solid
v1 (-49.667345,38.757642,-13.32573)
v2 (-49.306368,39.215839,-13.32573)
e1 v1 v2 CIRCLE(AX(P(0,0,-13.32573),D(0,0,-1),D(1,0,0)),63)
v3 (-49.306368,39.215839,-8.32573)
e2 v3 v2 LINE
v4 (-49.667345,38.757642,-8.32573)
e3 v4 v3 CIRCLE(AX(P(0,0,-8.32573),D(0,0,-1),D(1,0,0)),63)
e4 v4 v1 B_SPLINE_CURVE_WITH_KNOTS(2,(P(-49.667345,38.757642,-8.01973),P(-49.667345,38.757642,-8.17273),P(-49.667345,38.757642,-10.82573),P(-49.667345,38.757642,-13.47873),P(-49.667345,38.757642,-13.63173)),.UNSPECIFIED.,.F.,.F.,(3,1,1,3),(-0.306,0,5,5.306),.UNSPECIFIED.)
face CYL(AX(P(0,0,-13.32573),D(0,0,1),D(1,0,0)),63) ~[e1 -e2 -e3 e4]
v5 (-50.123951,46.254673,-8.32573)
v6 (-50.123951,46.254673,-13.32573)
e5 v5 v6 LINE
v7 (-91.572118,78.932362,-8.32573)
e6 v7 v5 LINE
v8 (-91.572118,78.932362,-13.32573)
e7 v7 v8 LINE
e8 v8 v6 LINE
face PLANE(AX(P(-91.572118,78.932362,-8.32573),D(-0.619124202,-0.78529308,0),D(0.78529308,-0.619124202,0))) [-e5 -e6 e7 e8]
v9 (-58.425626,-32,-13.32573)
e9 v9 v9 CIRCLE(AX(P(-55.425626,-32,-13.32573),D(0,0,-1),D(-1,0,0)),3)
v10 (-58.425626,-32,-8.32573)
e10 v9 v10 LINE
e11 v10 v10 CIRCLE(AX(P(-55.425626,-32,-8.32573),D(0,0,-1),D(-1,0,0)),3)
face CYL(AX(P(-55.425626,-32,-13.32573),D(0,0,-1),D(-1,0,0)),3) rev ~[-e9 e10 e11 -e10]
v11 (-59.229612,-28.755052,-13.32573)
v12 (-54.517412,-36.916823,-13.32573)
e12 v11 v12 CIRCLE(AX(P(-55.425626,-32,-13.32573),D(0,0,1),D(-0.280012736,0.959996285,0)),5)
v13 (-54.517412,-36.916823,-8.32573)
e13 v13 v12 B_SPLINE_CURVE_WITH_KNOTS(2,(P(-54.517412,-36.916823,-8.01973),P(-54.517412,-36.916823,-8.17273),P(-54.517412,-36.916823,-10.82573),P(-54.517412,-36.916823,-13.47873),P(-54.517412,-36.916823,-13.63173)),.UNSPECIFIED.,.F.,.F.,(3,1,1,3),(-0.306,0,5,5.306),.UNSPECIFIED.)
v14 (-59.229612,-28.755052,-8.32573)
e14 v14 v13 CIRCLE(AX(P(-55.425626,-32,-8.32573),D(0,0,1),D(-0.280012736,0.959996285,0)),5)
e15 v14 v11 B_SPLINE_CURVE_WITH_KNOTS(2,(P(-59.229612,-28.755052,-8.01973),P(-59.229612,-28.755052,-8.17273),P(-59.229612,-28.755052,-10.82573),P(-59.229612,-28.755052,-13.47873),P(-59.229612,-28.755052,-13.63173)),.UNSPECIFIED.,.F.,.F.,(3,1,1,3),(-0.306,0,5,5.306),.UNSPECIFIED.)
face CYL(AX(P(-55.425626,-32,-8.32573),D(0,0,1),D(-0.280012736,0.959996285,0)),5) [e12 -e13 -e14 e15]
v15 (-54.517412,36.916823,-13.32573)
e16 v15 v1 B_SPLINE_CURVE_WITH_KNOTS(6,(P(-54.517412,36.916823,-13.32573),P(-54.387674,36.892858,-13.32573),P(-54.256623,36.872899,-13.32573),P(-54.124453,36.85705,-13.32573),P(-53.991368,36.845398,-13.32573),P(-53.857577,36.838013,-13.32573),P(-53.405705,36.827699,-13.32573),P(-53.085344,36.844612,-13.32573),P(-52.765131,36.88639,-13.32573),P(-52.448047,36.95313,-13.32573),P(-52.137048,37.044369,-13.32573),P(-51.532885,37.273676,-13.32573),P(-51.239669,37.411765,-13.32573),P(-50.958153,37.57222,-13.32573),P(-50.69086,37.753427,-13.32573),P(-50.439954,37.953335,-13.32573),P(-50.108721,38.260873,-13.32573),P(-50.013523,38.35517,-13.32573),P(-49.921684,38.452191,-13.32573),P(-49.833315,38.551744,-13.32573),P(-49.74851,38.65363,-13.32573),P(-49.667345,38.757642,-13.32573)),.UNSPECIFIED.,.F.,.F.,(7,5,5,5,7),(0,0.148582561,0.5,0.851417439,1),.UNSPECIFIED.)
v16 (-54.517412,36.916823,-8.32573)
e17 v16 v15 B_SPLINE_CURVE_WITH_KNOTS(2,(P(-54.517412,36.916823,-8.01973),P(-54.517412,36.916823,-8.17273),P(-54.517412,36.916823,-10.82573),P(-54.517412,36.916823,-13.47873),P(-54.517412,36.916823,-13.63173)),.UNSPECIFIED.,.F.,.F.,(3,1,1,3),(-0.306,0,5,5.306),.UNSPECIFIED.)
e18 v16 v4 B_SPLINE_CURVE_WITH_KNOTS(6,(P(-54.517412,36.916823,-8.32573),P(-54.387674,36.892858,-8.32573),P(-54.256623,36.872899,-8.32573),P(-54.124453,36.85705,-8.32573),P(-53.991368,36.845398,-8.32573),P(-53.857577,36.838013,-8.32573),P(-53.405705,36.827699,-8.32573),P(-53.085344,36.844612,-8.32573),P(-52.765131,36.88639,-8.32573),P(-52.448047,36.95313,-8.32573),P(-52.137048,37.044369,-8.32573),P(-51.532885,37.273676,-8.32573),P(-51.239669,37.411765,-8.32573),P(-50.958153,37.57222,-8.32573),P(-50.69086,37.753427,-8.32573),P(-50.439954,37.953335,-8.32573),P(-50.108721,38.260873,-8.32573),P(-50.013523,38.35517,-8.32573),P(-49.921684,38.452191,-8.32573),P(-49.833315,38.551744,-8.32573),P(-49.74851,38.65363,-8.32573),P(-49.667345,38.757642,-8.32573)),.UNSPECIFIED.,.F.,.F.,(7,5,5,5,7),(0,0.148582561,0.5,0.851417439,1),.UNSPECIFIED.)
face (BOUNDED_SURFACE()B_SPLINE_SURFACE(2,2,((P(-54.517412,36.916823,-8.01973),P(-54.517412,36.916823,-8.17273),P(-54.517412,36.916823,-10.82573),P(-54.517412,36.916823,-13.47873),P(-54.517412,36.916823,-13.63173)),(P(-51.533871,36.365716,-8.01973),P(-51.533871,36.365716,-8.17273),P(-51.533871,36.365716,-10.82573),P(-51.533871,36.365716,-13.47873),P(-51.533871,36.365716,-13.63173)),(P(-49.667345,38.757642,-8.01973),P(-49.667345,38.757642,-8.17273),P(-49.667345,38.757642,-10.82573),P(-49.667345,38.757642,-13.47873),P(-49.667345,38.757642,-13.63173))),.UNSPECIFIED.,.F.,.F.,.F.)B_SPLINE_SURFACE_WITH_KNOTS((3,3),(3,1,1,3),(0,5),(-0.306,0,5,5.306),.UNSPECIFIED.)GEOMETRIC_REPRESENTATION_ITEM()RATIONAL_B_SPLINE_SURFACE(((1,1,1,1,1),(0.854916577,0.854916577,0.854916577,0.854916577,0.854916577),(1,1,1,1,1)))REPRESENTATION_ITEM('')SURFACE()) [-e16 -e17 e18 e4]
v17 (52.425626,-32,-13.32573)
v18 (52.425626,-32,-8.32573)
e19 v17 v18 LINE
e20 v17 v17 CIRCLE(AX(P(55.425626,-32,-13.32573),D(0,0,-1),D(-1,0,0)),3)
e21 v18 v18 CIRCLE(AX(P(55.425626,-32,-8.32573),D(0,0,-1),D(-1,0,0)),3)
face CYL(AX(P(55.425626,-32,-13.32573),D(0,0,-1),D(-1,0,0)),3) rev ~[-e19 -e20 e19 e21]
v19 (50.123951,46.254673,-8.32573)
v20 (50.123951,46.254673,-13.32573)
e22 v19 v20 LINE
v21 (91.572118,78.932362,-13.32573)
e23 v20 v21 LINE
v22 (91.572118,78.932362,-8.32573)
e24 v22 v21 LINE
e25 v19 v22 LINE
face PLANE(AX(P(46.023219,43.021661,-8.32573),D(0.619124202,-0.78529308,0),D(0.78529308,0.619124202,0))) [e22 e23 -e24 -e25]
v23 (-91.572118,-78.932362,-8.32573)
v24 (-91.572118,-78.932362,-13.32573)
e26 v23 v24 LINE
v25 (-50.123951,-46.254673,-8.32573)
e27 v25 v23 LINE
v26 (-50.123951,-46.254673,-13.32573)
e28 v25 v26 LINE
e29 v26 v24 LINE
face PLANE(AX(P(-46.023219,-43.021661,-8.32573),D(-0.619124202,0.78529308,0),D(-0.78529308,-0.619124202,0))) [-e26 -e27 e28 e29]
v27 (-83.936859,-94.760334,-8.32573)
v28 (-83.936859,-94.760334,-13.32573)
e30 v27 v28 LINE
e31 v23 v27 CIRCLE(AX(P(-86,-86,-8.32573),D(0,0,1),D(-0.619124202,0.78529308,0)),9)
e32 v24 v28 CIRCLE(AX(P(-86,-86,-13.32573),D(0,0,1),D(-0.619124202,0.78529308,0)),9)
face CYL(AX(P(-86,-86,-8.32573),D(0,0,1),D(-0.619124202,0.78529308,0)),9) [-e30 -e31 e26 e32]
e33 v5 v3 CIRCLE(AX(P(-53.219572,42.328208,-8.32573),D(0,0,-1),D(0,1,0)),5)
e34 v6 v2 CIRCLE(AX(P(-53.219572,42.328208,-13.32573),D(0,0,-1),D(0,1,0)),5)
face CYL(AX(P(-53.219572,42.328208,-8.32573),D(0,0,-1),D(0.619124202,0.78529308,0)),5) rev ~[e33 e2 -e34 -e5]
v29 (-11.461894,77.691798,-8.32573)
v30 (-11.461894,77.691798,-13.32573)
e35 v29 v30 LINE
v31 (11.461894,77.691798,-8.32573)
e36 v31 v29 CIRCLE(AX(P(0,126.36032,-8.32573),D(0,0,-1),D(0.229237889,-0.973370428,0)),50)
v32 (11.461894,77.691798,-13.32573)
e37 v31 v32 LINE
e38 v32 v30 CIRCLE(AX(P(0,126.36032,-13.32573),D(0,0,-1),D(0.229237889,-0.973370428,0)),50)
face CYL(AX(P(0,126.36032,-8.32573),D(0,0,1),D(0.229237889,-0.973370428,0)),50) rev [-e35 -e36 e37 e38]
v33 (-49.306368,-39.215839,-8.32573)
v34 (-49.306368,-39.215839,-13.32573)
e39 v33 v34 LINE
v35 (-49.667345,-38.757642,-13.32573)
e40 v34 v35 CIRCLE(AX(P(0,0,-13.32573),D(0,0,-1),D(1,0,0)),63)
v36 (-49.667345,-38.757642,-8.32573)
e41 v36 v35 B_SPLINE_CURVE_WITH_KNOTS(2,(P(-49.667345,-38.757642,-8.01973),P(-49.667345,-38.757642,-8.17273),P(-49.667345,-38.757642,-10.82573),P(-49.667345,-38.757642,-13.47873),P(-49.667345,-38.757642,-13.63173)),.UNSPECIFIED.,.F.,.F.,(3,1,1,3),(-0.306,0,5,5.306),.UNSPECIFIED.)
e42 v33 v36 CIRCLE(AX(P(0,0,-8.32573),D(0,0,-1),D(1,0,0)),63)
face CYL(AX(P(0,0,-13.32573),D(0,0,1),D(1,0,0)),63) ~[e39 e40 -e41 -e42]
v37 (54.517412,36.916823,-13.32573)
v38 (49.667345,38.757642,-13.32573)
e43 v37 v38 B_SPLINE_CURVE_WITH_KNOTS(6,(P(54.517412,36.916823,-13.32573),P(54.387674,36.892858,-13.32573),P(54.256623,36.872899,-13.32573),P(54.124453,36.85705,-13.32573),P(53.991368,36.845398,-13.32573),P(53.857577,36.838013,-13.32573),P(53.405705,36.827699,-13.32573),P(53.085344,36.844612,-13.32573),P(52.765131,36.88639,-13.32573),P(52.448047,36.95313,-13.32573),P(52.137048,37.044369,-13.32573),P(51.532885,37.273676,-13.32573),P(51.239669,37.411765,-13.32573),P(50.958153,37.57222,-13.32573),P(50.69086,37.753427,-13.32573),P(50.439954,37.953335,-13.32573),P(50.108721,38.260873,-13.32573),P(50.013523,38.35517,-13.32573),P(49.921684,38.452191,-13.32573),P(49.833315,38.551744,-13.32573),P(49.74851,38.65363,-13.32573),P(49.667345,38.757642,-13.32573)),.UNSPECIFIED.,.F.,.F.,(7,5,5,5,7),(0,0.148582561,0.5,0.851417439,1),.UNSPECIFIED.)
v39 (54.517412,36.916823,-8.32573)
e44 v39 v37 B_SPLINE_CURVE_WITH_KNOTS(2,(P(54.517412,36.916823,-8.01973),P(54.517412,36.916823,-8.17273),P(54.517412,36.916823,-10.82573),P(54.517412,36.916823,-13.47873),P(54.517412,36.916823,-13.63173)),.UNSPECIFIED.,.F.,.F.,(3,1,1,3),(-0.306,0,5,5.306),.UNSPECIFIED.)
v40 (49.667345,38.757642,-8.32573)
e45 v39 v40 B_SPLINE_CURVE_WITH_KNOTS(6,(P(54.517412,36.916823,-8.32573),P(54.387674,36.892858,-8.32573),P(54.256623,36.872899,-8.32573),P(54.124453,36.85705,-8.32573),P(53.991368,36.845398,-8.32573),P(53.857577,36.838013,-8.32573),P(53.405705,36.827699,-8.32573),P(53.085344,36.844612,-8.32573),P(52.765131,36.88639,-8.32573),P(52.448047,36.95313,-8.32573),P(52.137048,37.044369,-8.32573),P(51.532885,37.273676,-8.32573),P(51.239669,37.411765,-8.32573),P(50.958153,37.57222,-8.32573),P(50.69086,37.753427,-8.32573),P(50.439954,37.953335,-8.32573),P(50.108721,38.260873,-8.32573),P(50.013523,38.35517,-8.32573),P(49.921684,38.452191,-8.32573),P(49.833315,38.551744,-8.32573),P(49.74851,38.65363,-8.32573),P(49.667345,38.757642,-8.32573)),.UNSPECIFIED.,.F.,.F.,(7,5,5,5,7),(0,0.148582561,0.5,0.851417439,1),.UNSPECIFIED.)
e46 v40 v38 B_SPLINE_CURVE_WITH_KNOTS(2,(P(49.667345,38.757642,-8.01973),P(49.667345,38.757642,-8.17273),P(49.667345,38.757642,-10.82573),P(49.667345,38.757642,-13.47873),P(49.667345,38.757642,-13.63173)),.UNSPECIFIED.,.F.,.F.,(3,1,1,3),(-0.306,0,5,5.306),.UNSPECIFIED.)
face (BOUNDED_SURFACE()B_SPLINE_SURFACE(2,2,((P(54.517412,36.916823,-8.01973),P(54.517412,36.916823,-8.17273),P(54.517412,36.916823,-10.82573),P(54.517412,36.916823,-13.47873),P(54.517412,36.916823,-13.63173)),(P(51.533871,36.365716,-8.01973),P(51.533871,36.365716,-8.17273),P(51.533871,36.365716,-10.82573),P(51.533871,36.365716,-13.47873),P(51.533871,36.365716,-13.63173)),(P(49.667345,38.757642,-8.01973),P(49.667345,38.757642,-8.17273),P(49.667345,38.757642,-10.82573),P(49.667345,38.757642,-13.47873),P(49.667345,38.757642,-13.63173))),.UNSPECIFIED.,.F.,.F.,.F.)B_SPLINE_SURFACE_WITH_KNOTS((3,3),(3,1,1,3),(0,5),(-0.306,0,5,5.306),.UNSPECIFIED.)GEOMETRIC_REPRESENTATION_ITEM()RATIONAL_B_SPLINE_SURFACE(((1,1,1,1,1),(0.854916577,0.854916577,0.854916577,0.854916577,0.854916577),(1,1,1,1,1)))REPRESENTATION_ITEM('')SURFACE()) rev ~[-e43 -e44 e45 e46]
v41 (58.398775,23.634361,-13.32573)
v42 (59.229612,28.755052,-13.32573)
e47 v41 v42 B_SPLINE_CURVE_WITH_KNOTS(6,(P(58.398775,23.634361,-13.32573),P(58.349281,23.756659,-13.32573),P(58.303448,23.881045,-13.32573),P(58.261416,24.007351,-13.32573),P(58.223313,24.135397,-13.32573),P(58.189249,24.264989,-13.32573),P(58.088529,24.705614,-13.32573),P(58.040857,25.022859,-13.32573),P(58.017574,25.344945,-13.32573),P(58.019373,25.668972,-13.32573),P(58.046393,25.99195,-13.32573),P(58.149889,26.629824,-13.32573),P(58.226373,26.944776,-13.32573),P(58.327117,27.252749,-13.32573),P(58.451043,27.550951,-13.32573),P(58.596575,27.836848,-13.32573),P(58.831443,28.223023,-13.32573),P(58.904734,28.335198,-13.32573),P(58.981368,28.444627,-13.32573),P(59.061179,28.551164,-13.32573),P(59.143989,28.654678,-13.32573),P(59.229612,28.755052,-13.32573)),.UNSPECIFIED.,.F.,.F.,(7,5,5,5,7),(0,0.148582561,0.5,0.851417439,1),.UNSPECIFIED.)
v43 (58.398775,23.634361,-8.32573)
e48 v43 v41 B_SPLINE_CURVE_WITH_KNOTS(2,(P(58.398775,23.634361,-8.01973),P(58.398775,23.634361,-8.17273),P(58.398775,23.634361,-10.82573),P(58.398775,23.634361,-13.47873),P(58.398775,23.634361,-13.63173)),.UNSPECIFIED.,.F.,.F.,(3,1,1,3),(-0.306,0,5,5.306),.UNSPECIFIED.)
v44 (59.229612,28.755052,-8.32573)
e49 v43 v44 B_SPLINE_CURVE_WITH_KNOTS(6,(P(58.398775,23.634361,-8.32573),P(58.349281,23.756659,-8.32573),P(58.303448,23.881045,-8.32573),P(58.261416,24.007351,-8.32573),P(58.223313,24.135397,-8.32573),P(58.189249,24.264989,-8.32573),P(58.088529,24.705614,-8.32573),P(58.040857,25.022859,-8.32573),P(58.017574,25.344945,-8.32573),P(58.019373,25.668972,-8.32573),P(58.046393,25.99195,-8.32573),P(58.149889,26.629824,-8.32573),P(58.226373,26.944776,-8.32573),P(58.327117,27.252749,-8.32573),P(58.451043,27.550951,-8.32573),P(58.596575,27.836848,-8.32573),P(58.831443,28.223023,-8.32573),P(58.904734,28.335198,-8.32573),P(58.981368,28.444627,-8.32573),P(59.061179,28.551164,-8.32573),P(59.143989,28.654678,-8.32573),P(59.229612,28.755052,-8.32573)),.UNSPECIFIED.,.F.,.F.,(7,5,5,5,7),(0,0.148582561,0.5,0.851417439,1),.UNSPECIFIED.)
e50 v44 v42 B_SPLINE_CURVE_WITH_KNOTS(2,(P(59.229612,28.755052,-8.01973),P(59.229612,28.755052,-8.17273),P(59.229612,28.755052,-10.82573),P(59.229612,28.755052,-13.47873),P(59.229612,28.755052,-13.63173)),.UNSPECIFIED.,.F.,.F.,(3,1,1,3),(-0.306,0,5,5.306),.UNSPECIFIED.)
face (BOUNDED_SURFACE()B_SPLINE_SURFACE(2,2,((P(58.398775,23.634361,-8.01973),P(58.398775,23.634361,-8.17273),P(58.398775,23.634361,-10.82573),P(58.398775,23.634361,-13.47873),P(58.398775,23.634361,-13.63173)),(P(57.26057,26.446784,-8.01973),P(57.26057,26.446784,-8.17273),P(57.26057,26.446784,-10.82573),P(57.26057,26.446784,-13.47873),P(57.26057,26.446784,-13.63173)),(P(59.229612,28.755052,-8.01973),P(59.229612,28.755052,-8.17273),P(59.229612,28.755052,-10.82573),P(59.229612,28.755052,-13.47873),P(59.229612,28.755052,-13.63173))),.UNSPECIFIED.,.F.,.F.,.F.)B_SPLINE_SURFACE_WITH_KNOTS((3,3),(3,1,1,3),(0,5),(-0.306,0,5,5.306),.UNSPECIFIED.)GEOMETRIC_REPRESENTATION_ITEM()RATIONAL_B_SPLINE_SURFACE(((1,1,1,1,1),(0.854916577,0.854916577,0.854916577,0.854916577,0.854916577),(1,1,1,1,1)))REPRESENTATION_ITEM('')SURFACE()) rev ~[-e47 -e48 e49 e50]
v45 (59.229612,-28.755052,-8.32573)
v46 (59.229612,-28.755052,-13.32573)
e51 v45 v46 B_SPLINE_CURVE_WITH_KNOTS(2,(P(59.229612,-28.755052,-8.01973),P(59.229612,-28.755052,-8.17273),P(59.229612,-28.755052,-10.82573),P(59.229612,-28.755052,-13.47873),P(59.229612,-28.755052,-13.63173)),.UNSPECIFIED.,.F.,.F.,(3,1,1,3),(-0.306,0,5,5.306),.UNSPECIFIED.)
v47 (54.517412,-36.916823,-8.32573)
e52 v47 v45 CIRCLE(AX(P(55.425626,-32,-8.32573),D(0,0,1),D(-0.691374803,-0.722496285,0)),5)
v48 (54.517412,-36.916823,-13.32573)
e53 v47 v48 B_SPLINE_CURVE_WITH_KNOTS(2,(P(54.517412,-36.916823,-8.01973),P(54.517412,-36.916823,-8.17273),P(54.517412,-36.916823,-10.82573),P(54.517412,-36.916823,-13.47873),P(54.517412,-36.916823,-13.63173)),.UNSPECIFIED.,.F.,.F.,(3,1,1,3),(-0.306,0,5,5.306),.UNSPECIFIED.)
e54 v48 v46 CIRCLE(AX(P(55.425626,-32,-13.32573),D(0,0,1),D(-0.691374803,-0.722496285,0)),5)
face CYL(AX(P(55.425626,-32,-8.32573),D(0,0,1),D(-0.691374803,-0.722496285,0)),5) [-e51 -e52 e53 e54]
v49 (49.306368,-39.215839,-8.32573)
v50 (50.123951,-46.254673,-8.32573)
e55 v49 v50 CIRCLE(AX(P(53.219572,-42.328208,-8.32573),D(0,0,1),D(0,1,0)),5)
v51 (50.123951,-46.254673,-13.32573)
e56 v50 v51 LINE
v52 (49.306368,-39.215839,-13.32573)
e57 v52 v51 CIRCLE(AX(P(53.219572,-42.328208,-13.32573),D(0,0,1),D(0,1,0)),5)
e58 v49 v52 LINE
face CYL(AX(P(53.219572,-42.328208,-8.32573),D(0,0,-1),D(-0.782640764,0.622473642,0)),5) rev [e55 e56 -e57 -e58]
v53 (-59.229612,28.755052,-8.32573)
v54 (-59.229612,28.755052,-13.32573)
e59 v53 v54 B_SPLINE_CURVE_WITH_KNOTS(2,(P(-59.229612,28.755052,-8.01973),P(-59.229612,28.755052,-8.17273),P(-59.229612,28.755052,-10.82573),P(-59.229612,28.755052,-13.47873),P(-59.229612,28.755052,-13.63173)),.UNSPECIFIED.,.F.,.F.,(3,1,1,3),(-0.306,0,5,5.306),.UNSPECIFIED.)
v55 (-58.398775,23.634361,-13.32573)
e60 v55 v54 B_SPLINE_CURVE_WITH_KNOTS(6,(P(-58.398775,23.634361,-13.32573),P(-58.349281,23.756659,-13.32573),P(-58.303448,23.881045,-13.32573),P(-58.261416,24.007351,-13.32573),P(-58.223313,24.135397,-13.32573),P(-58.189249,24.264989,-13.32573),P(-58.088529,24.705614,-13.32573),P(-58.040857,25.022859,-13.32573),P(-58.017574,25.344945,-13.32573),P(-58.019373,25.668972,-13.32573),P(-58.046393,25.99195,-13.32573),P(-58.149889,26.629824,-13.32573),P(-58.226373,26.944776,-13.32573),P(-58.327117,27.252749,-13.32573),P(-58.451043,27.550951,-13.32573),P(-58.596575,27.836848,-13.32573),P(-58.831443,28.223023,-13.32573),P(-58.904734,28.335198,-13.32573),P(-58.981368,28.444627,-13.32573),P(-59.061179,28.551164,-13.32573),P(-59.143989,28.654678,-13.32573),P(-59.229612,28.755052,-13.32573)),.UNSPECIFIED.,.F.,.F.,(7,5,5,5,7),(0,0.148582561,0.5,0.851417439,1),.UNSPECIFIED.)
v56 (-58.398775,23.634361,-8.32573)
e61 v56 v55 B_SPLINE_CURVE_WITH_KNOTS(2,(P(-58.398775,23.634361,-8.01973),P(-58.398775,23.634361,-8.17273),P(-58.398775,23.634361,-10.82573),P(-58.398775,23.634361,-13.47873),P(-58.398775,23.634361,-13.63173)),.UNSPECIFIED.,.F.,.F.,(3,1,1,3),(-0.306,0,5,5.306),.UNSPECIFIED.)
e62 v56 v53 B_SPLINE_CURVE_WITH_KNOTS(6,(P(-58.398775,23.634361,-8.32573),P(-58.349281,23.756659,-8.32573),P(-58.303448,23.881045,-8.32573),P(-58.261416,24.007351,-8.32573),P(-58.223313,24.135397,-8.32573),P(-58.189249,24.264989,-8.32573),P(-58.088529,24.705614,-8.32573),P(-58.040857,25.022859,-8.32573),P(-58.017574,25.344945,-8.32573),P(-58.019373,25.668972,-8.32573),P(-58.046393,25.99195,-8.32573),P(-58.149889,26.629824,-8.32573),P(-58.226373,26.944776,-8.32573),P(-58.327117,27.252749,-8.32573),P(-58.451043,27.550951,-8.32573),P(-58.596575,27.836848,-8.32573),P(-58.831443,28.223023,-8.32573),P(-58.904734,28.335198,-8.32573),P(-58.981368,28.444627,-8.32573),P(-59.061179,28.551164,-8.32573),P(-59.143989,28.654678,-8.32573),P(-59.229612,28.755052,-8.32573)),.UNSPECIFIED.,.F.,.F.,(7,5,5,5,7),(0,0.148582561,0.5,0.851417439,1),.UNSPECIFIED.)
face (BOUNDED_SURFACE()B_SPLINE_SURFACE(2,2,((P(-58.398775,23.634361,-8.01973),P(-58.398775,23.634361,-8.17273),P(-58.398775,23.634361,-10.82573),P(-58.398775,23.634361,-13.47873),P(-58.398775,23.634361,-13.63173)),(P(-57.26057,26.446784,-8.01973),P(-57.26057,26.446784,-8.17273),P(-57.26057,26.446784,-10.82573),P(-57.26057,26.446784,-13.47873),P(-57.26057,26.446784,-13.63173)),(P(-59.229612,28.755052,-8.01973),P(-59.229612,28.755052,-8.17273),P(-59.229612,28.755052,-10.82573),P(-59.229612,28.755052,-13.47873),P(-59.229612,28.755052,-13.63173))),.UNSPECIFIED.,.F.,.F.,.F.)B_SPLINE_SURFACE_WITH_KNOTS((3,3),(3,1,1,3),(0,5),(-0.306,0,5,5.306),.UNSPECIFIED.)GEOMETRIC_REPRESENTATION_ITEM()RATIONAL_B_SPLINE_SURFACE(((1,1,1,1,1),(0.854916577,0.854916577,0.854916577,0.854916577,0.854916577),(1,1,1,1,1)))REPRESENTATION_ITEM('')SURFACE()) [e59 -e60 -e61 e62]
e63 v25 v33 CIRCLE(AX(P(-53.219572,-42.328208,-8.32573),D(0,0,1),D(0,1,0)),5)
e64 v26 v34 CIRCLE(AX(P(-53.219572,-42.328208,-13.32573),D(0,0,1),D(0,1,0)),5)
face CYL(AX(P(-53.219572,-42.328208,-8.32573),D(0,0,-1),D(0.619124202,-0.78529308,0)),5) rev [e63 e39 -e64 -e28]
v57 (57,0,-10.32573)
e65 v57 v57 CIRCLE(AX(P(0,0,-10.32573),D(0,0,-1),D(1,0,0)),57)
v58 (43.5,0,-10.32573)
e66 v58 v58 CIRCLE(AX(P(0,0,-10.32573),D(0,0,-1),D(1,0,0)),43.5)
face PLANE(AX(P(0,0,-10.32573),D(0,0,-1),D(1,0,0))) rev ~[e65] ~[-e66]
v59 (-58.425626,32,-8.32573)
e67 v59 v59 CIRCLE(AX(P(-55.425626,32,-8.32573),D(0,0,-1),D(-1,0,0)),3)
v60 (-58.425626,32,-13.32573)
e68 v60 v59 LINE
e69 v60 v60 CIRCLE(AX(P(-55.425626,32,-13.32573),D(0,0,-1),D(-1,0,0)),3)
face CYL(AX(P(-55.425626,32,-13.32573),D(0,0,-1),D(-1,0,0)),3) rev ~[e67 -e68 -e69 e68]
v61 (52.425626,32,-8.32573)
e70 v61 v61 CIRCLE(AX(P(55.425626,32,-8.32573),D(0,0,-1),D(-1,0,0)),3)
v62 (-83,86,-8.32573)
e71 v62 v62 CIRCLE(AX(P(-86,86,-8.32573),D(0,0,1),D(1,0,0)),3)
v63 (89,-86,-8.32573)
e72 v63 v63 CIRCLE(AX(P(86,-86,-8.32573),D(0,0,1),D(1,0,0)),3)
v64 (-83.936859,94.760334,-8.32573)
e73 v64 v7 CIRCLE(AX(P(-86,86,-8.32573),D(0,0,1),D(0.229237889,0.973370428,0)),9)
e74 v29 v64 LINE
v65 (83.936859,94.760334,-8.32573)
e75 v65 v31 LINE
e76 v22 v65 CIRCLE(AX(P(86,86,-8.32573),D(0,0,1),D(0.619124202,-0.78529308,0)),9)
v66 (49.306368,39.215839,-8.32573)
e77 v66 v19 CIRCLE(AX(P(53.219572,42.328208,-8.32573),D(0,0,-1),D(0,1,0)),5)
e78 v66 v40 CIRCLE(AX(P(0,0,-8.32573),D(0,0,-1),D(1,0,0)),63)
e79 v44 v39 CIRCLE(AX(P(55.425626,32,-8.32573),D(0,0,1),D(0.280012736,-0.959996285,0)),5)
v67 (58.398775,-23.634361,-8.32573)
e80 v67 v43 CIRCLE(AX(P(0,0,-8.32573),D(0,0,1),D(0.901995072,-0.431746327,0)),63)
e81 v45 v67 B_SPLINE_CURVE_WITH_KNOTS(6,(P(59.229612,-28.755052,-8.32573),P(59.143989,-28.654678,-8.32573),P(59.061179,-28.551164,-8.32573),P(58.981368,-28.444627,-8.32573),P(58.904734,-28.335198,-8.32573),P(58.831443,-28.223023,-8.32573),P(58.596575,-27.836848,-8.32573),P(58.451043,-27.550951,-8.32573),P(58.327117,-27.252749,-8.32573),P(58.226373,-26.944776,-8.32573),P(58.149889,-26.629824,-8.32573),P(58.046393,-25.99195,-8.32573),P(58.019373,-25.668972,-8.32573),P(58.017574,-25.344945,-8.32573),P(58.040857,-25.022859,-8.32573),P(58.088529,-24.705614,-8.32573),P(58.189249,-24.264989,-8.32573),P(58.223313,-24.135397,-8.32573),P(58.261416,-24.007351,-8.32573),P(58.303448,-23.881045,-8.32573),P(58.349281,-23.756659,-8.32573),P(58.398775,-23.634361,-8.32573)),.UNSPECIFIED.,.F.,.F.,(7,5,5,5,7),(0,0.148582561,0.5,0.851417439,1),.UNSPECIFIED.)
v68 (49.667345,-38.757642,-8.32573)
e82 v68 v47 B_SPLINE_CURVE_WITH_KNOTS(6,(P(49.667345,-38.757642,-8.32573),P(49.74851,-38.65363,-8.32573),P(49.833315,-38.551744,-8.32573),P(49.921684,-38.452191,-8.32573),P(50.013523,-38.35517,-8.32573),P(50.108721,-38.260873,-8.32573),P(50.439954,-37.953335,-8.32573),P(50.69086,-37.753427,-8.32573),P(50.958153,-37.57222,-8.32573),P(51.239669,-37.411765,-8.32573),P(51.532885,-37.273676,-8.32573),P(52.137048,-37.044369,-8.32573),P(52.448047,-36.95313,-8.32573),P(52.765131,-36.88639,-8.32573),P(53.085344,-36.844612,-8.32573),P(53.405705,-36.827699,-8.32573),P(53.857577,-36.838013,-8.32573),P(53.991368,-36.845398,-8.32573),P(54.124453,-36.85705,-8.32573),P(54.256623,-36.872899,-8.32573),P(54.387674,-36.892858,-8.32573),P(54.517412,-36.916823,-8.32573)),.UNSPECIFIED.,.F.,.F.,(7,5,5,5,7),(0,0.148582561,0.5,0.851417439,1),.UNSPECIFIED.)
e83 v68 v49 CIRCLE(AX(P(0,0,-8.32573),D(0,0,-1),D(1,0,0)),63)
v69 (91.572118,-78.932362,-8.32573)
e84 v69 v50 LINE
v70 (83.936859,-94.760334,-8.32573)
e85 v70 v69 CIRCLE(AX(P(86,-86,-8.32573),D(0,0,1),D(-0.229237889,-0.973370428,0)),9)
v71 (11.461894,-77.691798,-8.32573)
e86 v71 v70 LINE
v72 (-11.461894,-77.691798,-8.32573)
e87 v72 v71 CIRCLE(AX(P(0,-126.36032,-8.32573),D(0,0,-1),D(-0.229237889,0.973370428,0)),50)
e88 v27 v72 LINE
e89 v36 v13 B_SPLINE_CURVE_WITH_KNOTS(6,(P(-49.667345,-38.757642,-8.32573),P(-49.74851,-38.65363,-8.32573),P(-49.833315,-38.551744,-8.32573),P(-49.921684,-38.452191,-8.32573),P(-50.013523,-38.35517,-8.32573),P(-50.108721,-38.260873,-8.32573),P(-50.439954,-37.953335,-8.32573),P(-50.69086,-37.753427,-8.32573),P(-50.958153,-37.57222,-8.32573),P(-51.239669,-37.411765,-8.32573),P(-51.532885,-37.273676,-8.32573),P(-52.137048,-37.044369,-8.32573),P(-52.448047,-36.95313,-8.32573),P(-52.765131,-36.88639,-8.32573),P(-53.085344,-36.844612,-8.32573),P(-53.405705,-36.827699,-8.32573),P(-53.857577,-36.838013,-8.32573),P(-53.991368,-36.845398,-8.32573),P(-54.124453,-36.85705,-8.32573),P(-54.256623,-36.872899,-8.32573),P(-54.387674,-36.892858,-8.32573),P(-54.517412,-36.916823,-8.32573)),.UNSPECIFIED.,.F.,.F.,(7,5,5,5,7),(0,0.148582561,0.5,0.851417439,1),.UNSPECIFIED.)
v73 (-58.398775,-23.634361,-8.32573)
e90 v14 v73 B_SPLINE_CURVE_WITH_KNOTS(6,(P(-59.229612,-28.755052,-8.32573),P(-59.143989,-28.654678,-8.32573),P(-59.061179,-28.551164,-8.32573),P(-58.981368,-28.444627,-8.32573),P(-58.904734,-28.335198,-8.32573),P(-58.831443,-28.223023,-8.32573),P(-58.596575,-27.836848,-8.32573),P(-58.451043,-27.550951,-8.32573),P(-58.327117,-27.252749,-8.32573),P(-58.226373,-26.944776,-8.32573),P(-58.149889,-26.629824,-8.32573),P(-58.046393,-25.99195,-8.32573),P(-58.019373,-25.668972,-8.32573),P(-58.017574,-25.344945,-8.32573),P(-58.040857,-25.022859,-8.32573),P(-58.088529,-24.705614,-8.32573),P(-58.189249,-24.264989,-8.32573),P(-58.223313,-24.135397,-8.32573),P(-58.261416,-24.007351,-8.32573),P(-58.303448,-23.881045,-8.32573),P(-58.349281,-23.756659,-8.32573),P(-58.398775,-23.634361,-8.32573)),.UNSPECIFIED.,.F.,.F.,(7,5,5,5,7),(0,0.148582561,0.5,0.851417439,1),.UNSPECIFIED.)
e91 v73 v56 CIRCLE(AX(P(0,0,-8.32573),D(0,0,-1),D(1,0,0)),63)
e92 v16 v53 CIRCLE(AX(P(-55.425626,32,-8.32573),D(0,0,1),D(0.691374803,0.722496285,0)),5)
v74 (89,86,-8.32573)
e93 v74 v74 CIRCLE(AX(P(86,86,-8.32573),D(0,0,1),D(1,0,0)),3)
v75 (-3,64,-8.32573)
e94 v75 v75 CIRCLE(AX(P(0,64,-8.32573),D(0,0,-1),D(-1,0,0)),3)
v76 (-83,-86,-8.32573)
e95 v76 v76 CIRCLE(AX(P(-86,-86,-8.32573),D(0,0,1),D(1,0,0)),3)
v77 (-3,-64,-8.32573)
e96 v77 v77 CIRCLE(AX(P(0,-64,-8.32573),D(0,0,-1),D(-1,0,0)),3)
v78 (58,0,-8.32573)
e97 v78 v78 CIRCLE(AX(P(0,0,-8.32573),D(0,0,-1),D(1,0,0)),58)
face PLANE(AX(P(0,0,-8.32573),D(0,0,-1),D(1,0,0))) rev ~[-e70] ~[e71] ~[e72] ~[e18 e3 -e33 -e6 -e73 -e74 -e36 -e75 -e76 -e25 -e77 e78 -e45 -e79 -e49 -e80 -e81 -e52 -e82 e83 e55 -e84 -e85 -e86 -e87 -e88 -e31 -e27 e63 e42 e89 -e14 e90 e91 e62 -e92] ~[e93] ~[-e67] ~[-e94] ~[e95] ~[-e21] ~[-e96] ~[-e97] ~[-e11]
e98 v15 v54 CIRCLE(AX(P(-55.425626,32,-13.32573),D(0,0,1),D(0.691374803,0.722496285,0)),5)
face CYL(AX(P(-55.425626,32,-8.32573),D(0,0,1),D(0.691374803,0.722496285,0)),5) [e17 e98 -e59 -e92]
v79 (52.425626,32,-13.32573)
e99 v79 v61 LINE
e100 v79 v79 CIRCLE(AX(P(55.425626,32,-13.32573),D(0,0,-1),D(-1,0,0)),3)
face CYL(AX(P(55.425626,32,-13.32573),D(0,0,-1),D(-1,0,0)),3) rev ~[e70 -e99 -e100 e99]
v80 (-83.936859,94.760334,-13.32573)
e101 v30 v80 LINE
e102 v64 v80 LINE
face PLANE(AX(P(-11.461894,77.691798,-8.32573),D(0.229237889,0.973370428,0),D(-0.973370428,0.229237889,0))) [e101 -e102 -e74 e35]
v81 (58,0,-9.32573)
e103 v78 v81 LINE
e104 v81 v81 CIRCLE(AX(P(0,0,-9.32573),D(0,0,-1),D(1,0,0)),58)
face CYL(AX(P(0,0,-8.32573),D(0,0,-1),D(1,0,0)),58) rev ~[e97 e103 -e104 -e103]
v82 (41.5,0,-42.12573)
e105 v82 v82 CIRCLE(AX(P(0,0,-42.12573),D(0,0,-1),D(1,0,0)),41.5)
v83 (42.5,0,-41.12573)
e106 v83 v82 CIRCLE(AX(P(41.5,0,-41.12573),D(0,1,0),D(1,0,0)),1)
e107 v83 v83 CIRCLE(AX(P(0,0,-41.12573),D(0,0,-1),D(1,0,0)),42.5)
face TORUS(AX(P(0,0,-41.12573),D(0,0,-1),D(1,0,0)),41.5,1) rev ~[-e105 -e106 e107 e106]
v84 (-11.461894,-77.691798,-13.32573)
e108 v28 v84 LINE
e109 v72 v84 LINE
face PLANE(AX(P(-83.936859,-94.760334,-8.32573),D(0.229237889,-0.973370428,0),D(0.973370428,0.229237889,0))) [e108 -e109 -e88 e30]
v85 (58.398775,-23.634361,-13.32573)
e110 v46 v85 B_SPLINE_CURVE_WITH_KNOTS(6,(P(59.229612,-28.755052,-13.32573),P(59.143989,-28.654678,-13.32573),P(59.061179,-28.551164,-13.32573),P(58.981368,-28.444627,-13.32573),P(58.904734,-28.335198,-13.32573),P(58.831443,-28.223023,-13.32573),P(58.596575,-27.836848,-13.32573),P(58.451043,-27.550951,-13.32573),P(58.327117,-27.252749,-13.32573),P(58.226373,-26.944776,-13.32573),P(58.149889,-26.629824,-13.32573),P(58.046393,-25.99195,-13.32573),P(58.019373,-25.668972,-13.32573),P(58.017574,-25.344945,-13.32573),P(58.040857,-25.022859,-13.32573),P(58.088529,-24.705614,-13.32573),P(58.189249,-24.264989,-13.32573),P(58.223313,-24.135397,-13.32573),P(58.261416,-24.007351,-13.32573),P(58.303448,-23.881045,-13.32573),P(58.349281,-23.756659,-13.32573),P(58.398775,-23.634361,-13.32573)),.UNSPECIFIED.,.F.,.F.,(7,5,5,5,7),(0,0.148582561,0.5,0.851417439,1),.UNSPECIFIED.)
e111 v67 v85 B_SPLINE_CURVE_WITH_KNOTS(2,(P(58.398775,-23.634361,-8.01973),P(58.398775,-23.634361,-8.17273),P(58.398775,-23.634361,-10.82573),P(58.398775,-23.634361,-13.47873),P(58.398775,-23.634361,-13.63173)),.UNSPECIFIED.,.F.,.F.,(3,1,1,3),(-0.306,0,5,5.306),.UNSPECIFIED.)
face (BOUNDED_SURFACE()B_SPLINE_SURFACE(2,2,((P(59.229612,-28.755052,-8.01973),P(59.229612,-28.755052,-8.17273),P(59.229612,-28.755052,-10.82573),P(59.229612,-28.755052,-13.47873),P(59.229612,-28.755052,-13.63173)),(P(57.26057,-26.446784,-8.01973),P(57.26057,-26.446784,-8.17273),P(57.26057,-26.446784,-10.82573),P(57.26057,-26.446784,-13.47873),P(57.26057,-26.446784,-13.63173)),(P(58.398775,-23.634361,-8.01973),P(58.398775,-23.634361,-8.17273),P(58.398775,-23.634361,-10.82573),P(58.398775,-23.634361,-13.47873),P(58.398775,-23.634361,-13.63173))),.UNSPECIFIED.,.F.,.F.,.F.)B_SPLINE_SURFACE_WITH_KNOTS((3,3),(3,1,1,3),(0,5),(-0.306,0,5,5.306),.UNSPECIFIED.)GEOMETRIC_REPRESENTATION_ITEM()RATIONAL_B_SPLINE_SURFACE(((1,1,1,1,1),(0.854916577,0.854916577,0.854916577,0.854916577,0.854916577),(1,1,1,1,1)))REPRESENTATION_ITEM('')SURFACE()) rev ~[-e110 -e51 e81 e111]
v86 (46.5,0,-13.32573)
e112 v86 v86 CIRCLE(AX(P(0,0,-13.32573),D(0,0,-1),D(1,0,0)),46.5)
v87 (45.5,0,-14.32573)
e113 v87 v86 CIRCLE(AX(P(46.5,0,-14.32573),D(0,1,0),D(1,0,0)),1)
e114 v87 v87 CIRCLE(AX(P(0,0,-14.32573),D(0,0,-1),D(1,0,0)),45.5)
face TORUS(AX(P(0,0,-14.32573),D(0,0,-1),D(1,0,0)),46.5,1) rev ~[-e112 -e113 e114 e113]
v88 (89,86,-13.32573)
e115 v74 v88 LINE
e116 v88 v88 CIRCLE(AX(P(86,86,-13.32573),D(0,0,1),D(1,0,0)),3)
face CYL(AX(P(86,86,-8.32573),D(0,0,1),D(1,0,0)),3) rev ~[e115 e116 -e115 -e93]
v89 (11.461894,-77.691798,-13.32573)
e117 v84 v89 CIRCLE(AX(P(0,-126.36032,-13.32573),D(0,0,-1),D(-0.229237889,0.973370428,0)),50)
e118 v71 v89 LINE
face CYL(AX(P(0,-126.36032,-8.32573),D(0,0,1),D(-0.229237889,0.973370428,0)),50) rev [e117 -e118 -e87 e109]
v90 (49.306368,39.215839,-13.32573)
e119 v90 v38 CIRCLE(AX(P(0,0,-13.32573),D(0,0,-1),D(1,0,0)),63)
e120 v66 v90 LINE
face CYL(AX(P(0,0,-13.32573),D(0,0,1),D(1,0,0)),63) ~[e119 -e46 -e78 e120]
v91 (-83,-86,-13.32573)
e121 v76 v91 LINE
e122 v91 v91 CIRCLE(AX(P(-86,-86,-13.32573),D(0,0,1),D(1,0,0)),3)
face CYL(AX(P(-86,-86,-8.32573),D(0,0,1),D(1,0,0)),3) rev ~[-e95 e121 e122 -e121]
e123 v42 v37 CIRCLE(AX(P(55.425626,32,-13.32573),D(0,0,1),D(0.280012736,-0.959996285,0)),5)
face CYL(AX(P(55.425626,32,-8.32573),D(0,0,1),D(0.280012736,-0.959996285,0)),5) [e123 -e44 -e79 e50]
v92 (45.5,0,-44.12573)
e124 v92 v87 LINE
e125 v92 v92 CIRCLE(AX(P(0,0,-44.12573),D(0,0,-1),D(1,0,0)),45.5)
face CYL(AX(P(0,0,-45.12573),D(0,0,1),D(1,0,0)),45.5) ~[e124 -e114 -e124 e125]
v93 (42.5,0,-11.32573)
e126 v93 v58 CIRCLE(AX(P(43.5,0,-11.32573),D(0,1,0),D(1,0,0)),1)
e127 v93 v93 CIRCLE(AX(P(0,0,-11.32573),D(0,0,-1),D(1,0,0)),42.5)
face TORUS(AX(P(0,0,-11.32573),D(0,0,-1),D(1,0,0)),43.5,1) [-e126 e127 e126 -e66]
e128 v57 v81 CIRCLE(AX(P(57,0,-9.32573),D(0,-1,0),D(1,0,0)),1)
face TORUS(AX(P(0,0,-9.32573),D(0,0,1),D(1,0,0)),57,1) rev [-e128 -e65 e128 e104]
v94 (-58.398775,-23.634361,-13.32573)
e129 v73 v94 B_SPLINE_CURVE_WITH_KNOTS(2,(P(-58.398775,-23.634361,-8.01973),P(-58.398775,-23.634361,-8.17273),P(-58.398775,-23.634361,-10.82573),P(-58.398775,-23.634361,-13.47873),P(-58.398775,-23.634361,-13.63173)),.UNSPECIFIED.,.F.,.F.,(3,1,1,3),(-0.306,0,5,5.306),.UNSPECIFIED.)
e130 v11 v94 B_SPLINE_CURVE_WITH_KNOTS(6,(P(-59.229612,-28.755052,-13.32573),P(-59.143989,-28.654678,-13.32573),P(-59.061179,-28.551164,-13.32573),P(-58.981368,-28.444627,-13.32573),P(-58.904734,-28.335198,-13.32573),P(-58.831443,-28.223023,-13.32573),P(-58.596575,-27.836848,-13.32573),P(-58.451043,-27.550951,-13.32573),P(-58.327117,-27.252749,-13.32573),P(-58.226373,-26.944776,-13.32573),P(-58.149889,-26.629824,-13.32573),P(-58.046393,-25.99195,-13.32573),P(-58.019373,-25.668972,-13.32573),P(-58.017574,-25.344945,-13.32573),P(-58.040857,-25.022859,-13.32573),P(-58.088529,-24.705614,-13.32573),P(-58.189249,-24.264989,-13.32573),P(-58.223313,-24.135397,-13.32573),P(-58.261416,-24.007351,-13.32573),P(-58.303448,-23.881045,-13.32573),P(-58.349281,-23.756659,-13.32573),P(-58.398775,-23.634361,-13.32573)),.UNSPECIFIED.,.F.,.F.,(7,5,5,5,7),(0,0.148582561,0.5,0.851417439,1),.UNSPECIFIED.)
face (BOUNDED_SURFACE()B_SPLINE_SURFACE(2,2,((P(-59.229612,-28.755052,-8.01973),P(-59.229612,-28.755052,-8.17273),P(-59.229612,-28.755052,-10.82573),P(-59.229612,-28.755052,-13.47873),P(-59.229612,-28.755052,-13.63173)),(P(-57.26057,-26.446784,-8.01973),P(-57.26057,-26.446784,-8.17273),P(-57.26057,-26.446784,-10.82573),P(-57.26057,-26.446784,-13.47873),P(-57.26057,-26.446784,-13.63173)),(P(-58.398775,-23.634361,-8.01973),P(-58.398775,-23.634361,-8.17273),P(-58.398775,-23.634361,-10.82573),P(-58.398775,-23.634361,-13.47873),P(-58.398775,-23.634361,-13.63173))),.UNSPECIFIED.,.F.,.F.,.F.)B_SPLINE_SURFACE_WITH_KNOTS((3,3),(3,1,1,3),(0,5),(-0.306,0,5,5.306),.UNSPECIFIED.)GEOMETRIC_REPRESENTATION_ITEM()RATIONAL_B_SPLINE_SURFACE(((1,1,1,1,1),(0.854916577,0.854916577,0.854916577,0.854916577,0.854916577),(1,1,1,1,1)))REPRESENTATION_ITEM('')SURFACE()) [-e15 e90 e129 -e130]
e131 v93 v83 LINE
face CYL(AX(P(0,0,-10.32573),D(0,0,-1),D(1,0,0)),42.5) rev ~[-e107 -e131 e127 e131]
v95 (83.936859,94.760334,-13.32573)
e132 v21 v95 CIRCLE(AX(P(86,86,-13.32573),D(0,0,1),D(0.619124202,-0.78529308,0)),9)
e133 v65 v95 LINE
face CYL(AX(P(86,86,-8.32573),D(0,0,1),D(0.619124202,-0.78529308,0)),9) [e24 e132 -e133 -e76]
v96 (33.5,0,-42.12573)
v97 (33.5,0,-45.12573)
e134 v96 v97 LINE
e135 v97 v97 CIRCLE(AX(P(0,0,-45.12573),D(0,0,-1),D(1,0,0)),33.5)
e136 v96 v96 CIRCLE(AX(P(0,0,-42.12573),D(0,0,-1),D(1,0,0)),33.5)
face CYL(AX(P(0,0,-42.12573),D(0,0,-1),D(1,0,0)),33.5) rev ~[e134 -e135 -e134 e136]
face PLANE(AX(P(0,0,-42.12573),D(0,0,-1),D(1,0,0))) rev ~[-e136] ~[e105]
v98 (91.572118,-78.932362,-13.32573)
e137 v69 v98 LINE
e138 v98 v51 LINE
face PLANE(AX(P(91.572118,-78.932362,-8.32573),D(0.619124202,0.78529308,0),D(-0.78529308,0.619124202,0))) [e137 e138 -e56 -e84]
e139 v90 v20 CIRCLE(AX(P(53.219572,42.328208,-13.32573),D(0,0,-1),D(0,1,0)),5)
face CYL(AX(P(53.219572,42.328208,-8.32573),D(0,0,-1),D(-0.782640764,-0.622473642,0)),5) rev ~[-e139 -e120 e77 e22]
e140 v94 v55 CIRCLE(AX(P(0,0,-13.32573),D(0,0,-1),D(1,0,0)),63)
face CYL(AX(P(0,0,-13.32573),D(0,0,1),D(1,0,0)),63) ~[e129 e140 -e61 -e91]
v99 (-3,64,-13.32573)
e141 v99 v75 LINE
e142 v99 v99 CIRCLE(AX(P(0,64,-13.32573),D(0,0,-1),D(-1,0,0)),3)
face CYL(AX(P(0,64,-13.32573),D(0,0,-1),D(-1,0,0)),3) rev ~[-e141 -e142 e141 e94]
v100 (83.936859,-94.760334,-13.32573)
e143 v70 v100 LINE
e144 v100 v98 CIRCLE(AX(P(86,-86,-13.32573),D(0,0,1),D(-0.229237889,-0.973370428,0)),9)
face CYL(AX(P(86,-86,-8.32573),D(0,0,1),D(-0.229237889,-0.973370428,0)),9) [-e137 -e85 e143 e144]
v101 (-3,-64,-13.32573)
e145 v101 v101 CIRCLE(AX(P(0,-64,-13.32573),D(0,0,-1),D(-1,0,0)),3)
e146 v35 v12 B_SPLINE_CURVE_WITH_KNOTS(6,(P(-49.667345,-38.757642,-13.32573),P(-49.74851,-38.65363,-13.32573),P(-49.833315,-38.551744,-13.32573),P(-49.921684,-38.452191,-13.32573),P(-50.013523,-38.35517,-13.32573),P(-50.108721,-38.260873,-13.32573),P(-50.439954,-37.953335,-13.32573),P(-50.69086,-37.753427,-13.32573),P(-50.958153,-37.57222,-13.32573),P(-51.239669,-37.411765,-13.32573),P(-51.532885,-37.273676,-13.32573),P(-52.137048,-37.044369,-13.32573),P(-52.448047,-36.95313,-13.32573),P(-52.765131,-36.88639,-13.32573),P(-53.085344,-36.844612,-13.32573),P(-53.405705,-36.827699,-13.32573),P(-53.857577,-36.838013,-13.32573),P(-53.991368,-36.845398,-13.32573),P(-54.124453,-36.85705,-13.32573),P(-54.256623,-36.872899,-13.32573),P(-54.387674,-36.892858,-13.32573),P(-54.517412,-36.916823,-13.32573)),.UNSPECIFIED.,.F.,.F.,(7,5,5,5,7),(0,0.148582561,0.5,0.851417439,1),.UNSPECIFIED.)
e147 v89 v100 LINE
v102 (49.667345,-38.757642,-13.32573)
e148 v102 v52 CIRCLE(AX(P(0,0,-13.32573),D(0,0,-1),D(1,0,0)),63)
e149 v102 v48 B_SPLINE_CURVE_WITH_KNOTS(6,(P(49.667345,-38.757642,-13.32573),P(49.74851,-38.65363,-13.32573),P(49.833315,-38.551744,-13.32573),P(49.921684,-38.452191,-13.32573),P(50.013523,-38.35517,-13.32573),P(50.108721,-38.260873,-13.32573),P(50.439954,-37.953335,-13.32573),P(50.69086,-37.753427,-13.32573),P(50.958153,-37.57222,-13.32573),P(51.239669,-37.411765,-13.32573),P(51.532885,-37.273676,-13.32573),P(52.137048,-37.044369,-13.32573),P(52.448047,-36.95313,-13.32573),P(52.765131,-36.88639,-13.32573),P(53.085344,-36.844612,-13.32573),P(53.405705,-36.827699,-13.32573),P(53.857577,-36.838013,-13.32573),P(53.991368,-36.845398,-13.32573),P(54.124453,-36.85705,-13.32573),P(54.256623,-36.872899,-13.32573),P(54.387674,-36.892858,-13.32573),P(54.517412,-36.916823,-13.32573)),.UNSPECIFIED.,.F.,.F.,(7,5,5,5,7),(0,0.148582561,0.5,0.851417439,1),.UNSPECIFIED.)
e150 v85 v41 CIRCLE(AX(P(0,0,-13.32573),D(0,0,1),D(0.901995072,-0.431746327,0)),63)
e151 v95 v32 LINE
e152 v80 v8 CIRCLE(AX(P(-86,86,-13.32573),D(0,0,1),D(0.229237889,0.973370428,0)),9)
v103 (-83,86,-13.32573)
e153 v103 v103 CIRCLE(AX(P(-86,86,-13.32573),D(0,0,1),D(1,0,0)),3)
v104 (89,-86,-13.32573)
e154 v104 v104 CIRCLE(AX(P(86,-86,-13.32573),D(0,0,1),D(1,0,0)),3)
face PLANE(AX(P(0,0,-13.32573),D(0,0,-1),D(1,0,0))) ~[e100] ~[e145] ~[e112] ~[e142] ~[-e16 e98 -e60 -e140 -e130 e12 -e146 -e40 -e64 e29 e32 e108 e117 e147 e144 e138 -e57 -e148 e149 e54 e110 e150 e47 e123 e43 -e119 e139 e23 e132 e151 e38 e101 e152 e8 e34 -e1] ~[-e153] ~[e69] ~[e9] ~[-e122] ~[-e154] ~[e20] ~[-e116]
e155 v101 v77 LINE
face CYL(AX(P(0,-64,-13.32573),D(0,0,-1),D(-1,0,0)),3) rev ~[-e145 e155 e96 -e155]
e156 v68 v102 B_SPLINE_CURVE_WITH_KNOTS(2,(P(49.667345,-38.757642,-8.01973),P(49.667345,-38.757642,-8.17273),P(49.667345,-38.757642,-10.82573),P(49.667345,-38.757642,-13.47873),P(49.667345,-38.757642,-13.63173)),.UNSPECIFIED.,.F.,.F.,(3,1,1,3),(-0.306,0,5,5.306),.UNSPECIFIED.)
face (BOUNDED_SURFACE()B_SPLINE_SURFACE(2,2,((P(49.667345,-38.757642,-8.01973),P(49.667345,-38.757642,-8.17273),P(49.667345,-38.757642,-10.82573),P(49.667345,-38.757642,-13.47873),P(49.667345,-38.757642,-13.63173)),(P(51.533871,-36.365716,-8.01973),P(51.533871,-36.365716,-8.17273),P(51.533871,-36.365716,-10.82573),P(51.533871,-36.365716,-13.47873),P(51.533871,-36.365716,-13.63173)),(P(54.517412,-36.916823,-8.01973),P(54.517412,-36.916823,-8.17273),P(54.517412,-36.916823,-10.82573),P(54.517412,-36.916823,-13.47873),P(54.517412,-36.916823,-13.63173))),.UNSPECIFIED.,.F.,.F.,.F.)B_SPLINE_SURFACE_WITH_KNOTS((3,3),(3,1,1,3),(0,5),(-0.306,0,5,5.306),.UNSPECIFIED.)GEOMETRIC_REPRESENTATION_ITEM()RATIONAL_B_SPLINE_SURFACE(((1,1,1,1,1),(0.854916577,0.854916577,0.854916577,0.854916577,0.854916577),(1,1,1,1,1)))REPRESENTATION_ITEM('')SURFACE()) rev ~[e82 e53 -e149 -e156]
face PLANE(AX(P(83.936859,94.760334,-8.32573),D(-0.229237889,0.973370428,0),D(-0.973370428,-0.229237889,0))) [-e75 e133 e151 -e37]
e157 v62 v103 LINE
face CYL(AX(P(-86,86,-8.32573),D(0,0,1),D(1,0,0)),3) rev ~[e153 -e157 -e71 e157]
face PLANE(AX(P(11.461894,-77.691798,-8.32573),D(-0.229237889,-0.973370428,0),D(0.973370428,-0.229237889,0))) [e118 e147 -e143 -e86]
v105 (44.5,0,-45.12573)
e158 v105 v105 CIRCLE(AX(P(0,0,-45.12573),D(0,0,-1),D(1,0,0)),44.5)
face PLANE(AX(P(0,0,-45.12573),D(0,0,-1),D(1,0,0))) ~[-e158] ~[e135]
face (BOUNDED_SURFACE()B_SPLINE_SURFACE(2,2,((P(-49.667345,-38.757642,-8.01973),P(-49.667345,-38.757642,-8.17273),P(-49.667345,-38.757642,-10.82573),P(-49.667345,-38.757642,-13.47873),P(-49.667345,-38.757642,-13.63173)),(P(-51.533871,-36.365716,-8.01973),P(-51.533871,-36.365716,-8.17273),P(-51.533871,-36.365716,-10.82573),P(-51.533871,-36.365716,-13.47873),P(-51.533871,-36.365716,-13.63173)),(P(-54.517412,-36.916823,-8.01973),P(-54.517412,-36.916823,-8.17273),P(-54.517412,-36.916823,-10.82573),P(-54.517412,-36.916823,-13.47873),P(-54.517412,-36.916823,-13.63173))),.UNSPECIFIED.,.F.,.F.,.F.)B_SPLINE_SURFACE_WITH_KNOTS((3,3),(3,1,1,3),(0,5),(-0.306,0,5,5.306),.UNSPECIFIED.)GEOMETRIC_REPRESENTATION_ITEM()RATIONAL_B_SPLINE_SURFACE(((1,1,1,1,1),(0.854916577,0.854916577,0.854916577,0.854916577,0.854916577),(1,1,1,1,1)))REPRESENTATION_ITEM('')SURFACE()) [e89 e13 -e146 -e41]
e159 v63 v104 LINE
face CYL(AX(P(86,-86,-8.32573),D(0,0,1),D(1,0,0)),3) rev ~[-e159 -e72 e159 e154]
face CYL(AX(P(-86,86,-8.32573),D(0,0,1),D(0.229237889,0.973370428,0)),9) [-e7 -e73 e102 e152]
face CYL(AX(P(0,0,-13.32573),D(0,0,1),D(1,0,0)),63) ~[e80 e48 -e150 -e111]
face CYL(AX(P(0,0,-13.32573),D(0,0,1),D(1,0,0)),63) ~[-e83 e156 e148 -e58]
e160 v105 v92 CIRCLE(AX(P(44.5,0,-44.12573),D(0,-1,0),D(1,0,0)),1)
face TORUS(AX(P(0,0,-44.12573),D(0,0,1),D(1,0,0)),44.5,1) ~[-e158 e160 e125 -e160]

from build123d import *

# Parameters (mm, degrees)
SKETCH3_R           = 3
BOSS_EXTRUDE1_DEPTH = 5
CUT_EXTRUDE1_REACH  = 140.062
SKETCH4_R           = 3
FILLET1_R           = 1
FILLET2_R           = 5
FILLET3_R           = 5


with BuildPart() as part:
    # Sketch2 → Revolve1 (revolve)
    with BuildSketch(Plane(origin=(0, 0, 0), x_dir=(0, 0, -1), z_dir=(1, 0, 0)), mode=Mode.PRIVATE) as revolve1_sk:
        Polygon((10.325729927, 42.5), (42.125729927, 42.5), (42.125729927, 33.5), (45.125729927, 33.5), (45.125729927, 45.5), (13.325729927, 45.5), (13.325729927, 63), (8.325729927, 63), (8.325729927, 58), (10.325729927, 58), align=None)
    revolve(revolve1_sk.sketch.rotate(Axis((0, 0, 59.953467153), (0, 0, -1)), 90), axis=Axis((0, 0, 59.953467153), (0, 0, -1)))

    # Sketch3 → Boss-Extrude1 (add)
    # profile 1 of 6: a face of its own
    with BuildSketch(Plane.XY.offset(-8.325729927)):
        with BuildLine():
            ThreePointArc((-11.461894453, -77.691798172), (0, -76.360319575), (11.461894453, -77.691798172))
            Line((11.461894453, -77.691798172), (83.936858998, -94.760333853))
            ThreePointArc((83.936858998, -94.760333853), (94.106133519, -89.910319599), (91.57211782, -78.932362276))
            Line((91.57211782, -78.932362276), (46.023219274, -43.02166068))
            ThreePointArc((46.023219274, -43.02166068), (0, -63), (-46.023219274, -43.02166068))
            Line((-46.023219274, -43.02166068), (-91.57211782, -78.932362276))
            ThreePointArc((-91.57211782, -78.932362276), (-94.106133519, -89.910319599), (-83.936858998, -94.760333853))
            Line((-83.936858998, -94.760333853), (-11.461894453, -77.691798172))
        make_face()
        with Locations((-86, -86)):
            Circle(SKETCH3_R, mode=Mode.SUBTRACT)
        with Locations((86, -86)):
            Circle(SKETCH3_R, mode=Mode.SUBTRACT)
    # profile 2 of 6: a face of its own
    with BuildSketch(Plane.XY.offset(-8.325729927)):
        with BuildLine():
            ThreePointArc((51.968751829, -35.612481426), (59.755752861, -34.5), (56.825689522, -27.200018574))
            ThreePointArc((56.825689522, -27.200018574), (54.559600438, -31.5), (51.968751829, -35.612481426))
        make_face()
    # profile 3 of 6: a face of its own
    with BuildSketch(Plane.XY.offset(-8.325729927)):
        with BuildLine():
            ThreePointArc((-56.825689522, -27.200018574), (-59.755752861, -34.5), (-51.968751829, -35.612481426))
            ThreePointArc((-51.968751829, -35.612481426), (-54.559600438, -31.5), (-56.825689522, -27.200018574))
        make_face()
    # profile 4 of 6: a face of its own
    with BuildSketch(Plane.XY.offset(-8.325729927)):
        with BuildLine():
            ThreePointArc((-51.968751829, 35.612481426), (-59.755752861, 34.5), (-56.825689522, 27.200018574))
            ThreePointArc((-56.825689522, 27.200018574), (-54.559600438, 31.5), (-51.968751829, 35.612481426))
        make_face()
    # profile 5 of 6: a face of its own
    with BuildSketch(Plane.XY.offset(-8.325729927)):
        with BuildLine():
            ThreePointArc((56.825689522, 27.200018574), (59.755752861, 34.5), (51.968751829, 35.612481426))
            ThreePointArc((51.968751829, 35.612481426), (54.559600438, 31.5), (56.825689522, 27.200018574))
        make_face()
    # profile 6 of 6: a face of its own
    with BuildSketch(Plane.XY.offset(-8.325729927)):
        with BuildLine():
            Line((-91.57211782, 78.932362276), (-46.023219274, 43.02166068))
            ThreePointArc((-46.023219274, 43.02166068), (0, 63), (46.023219274, 43.02166068))
            Line((46.023219274, 43.02166068), (91.57211782, 78.932362276))
            ThreePointArc((91.57211782, 78.932362276), (94.106133519, 89.910319599), (83.936858998, 94.760333853))
            Line((83.936858998, 94.760333853), (11.461894453, 77.691798172))
            ThreePointArc((11.461894453, 77.691798172), (0, 76.360319575), (-11.461894453, 77.691798172))
            Line((-11.461894453, 77.691798172), (-83.936858998, 94.760333853))
            ThreePointArc((-83.936858998, 94.760333853), (-94.106133519, 89.910319599), (-91.57211782, 78.932362276))
        make_face()
        with Locations((-86, 86)):
            Circle(SKETCH3_R, mode=Mode.SUBTRACT)
        with Locations((86, 86)):
            Circle(SKETCH3_R, mode=Mode.SUBTRACT)
    extrude(amount=-BOSS_EXTRUDE1_DEPTH)

    # Sketch4 → Cut-Extrude1 (cut, up to next)
    with BuildSketch(Plane(origin=(0, 0, -13.325729927), x_dir=(-1, 0, 0), z_dir=(0, 0, -1)), mode=Mode.PRIVATE) as cut_extrude1_sk1:
        with Locations((55.425625842, 32)):
            Circle(SKETCH4_R)
    cut_extrude1_tool1 = extrude(cut_extrude1_sk1.sketch, amount=-CUT_EXTRUDE1_REACH, mode=Mode.PRIVATE) & part.part
    # Sketch4 → Cut-Extrude1 (cut, up to next)
    with BuildSketch(Plane(origin=(0, 0, -13.325729927), x_dir=(-1, 0, 0), z_dir=(0, 0, -1)), mode=Mode.PRIVATE) as cut_extrude1_sk2:
        with Locations((55.425625842, -32)):
            Circle(SKETCH4_R)
    cut_extrude1_tool2 = extrude(cut_extrude1_sk2.sketch, amount=-CUT_EXTRUDE1_REACH, mode=Mode.PRIVATE) & part.part
    # Sketch4 → Cut-Extrude1 (cut, up to next)
    with BuildSketch(Plane(origin=(0, 0, -13.325729927), x_dir=(-1, 0, 0), z_dir=(0, 0, -1)), mode=Mode.PRIVATE) as cut_extrude1_sk3:
        with Locations((0, -64)):
            Circle(SKETCH4_R)
    cut_extrude1_tool3 = extrude(cut_extrude1_sk3.sketch, amount=-CUT_EXTRUDE1_REACH, mode=Mode.PRIVATE) & part.part
    # Sketch4 → Cut-Extrude1 (cut, up to next)
    with BuildSketch(Plane(origin=(0, 0, -13.325729927), x_dir=(-1, 0, 0), z_dir=(0, 0, -1)), mode=Mode.PRIVATE) as cut_extrude1_sk4:
        with Locations((-55.425625842, -32)):
            Circle(SKETCH4_R)
    cut_extrude1_tool4 = extrude(cut_extrude1_sk4.sketch, amount=-CUT_EXTRUDE1_REACH, mode=Mode.PRIVATE) & part.part
    # Sketch4 → Cut-Extrude1 (cut, up to next)
    with BuildSketch(Plane(origin=(0, 0, -13.325729927), x_dir=(-1, 0, 0), z_dir=(0, 0, -1)), mode=Mode.PRIVATE) as cut_extrude1_sk5:
        with Locations((-55.425625842, 32)):
            Circle(SKETCH4_R)
    cut_extrude1_tool5 = extrude(cut_extrude1_sk5.sketch, amount=-CUT_EXTRUDE1_REACH, mode=Mode.PRIVATE) & part.part
    # Sketch4 → Cut-Extrude1 (cut, up to next)
    with BuildSketch(Plane(origin=(0, 0, -13.325729927), x_dir=(-1, 0, 0), z_dir=(0, 0, -1)), mode=Mode.PRIVATE) as cut_extrude1_sk6:
        with Locations((0, 64)):
            Circle(SKETCH4_R)
    cut_extrude1_tool6 = extrude(cut_extrude1_sk6.sketch, amount=-CUT_EXTRUDE1_REACH, mode=Mode.PRIVATE) & part.part
    add(cut_extrude1_tool1.solids().sort_by_distance((-55.425626, 32, -13.32573))[0], mode=Mode.SUBTRACT)
    add(cut_extrude1_tool2.solids().sort_by_distance((-55.425626, -32, -13.32573))[0], mode=Mode.SUBTRACT)
    add(cut_extrude1_tool3.solids().sort_by_distance((0, -64, -13.32573))[0], mode=Mode.SUBTRACT)
    add(cut_extrude1_tool4.solids().sort_by_distance((55.425626, -32, -13.32573))[0], mode=Mode.SUBTRACT)
    add(cut_extrude1_tool5.solids().sort_by_distance((55.425626, 32, -13.32573))[0], mode=Mode.SUBTRACT)
    add(cut_extrude1_tool6.solids().sort_by_distance((0, 64, -13.32573))[0], mode=Mode.SUBTRACT)

    # Fillet1
    fillet1_edges = [part.edges().sort_by_distance(p)[0] for p in [
        (-45.5, 0, -45.125729927),
        (-45.5, 0, -13.325729927),
        (-58, 0, -10.325729927),
        (-42.5, 0, -10.325729927),
        (-42.5, 0, -42.125729927),
    ]]
    fillet(fillet1_edges, radius=FILLET1_R)

    # Fillet2
    fillet2_edges = [part.edges().sort_by_distance(p)[0] for p in [
        (-46.023219274, -43.02166068, -10.825729927),
        (46.023219274, -43.02166068, -10.825729927),
        (46.023219274, 43.02166068, -10.825729927),
        (-46.023219274, 43.02166068, -10.825729927),
    ]]
    fillet(fillet2_edges, radius=FILLET2_R)

    # Fillet3
    fillet3_edges = [part.edges().sort_by_distance(p)[0] for p in [
        (-56.825689522, -27.200018574, -10.825729927),
        (-51.968751829, -35.612481426, -10.825729927),
        (51.968751829, -35.612481426, -10.825729927),
        (56.825689522, -27.200018574, -10.825729927),
        (-51.968751829, 35.612481426, -10.825729927),
        (-56.825689522, 27.200018574, -10.825729927),
        (56.825689522, 27.200018574, -10.825729927),
        (51.968751829, 35.612481426, -10.825729927),
    ]]
    fillet(fillet3_edges, radius=FILLET3_R)


solid = part.part
